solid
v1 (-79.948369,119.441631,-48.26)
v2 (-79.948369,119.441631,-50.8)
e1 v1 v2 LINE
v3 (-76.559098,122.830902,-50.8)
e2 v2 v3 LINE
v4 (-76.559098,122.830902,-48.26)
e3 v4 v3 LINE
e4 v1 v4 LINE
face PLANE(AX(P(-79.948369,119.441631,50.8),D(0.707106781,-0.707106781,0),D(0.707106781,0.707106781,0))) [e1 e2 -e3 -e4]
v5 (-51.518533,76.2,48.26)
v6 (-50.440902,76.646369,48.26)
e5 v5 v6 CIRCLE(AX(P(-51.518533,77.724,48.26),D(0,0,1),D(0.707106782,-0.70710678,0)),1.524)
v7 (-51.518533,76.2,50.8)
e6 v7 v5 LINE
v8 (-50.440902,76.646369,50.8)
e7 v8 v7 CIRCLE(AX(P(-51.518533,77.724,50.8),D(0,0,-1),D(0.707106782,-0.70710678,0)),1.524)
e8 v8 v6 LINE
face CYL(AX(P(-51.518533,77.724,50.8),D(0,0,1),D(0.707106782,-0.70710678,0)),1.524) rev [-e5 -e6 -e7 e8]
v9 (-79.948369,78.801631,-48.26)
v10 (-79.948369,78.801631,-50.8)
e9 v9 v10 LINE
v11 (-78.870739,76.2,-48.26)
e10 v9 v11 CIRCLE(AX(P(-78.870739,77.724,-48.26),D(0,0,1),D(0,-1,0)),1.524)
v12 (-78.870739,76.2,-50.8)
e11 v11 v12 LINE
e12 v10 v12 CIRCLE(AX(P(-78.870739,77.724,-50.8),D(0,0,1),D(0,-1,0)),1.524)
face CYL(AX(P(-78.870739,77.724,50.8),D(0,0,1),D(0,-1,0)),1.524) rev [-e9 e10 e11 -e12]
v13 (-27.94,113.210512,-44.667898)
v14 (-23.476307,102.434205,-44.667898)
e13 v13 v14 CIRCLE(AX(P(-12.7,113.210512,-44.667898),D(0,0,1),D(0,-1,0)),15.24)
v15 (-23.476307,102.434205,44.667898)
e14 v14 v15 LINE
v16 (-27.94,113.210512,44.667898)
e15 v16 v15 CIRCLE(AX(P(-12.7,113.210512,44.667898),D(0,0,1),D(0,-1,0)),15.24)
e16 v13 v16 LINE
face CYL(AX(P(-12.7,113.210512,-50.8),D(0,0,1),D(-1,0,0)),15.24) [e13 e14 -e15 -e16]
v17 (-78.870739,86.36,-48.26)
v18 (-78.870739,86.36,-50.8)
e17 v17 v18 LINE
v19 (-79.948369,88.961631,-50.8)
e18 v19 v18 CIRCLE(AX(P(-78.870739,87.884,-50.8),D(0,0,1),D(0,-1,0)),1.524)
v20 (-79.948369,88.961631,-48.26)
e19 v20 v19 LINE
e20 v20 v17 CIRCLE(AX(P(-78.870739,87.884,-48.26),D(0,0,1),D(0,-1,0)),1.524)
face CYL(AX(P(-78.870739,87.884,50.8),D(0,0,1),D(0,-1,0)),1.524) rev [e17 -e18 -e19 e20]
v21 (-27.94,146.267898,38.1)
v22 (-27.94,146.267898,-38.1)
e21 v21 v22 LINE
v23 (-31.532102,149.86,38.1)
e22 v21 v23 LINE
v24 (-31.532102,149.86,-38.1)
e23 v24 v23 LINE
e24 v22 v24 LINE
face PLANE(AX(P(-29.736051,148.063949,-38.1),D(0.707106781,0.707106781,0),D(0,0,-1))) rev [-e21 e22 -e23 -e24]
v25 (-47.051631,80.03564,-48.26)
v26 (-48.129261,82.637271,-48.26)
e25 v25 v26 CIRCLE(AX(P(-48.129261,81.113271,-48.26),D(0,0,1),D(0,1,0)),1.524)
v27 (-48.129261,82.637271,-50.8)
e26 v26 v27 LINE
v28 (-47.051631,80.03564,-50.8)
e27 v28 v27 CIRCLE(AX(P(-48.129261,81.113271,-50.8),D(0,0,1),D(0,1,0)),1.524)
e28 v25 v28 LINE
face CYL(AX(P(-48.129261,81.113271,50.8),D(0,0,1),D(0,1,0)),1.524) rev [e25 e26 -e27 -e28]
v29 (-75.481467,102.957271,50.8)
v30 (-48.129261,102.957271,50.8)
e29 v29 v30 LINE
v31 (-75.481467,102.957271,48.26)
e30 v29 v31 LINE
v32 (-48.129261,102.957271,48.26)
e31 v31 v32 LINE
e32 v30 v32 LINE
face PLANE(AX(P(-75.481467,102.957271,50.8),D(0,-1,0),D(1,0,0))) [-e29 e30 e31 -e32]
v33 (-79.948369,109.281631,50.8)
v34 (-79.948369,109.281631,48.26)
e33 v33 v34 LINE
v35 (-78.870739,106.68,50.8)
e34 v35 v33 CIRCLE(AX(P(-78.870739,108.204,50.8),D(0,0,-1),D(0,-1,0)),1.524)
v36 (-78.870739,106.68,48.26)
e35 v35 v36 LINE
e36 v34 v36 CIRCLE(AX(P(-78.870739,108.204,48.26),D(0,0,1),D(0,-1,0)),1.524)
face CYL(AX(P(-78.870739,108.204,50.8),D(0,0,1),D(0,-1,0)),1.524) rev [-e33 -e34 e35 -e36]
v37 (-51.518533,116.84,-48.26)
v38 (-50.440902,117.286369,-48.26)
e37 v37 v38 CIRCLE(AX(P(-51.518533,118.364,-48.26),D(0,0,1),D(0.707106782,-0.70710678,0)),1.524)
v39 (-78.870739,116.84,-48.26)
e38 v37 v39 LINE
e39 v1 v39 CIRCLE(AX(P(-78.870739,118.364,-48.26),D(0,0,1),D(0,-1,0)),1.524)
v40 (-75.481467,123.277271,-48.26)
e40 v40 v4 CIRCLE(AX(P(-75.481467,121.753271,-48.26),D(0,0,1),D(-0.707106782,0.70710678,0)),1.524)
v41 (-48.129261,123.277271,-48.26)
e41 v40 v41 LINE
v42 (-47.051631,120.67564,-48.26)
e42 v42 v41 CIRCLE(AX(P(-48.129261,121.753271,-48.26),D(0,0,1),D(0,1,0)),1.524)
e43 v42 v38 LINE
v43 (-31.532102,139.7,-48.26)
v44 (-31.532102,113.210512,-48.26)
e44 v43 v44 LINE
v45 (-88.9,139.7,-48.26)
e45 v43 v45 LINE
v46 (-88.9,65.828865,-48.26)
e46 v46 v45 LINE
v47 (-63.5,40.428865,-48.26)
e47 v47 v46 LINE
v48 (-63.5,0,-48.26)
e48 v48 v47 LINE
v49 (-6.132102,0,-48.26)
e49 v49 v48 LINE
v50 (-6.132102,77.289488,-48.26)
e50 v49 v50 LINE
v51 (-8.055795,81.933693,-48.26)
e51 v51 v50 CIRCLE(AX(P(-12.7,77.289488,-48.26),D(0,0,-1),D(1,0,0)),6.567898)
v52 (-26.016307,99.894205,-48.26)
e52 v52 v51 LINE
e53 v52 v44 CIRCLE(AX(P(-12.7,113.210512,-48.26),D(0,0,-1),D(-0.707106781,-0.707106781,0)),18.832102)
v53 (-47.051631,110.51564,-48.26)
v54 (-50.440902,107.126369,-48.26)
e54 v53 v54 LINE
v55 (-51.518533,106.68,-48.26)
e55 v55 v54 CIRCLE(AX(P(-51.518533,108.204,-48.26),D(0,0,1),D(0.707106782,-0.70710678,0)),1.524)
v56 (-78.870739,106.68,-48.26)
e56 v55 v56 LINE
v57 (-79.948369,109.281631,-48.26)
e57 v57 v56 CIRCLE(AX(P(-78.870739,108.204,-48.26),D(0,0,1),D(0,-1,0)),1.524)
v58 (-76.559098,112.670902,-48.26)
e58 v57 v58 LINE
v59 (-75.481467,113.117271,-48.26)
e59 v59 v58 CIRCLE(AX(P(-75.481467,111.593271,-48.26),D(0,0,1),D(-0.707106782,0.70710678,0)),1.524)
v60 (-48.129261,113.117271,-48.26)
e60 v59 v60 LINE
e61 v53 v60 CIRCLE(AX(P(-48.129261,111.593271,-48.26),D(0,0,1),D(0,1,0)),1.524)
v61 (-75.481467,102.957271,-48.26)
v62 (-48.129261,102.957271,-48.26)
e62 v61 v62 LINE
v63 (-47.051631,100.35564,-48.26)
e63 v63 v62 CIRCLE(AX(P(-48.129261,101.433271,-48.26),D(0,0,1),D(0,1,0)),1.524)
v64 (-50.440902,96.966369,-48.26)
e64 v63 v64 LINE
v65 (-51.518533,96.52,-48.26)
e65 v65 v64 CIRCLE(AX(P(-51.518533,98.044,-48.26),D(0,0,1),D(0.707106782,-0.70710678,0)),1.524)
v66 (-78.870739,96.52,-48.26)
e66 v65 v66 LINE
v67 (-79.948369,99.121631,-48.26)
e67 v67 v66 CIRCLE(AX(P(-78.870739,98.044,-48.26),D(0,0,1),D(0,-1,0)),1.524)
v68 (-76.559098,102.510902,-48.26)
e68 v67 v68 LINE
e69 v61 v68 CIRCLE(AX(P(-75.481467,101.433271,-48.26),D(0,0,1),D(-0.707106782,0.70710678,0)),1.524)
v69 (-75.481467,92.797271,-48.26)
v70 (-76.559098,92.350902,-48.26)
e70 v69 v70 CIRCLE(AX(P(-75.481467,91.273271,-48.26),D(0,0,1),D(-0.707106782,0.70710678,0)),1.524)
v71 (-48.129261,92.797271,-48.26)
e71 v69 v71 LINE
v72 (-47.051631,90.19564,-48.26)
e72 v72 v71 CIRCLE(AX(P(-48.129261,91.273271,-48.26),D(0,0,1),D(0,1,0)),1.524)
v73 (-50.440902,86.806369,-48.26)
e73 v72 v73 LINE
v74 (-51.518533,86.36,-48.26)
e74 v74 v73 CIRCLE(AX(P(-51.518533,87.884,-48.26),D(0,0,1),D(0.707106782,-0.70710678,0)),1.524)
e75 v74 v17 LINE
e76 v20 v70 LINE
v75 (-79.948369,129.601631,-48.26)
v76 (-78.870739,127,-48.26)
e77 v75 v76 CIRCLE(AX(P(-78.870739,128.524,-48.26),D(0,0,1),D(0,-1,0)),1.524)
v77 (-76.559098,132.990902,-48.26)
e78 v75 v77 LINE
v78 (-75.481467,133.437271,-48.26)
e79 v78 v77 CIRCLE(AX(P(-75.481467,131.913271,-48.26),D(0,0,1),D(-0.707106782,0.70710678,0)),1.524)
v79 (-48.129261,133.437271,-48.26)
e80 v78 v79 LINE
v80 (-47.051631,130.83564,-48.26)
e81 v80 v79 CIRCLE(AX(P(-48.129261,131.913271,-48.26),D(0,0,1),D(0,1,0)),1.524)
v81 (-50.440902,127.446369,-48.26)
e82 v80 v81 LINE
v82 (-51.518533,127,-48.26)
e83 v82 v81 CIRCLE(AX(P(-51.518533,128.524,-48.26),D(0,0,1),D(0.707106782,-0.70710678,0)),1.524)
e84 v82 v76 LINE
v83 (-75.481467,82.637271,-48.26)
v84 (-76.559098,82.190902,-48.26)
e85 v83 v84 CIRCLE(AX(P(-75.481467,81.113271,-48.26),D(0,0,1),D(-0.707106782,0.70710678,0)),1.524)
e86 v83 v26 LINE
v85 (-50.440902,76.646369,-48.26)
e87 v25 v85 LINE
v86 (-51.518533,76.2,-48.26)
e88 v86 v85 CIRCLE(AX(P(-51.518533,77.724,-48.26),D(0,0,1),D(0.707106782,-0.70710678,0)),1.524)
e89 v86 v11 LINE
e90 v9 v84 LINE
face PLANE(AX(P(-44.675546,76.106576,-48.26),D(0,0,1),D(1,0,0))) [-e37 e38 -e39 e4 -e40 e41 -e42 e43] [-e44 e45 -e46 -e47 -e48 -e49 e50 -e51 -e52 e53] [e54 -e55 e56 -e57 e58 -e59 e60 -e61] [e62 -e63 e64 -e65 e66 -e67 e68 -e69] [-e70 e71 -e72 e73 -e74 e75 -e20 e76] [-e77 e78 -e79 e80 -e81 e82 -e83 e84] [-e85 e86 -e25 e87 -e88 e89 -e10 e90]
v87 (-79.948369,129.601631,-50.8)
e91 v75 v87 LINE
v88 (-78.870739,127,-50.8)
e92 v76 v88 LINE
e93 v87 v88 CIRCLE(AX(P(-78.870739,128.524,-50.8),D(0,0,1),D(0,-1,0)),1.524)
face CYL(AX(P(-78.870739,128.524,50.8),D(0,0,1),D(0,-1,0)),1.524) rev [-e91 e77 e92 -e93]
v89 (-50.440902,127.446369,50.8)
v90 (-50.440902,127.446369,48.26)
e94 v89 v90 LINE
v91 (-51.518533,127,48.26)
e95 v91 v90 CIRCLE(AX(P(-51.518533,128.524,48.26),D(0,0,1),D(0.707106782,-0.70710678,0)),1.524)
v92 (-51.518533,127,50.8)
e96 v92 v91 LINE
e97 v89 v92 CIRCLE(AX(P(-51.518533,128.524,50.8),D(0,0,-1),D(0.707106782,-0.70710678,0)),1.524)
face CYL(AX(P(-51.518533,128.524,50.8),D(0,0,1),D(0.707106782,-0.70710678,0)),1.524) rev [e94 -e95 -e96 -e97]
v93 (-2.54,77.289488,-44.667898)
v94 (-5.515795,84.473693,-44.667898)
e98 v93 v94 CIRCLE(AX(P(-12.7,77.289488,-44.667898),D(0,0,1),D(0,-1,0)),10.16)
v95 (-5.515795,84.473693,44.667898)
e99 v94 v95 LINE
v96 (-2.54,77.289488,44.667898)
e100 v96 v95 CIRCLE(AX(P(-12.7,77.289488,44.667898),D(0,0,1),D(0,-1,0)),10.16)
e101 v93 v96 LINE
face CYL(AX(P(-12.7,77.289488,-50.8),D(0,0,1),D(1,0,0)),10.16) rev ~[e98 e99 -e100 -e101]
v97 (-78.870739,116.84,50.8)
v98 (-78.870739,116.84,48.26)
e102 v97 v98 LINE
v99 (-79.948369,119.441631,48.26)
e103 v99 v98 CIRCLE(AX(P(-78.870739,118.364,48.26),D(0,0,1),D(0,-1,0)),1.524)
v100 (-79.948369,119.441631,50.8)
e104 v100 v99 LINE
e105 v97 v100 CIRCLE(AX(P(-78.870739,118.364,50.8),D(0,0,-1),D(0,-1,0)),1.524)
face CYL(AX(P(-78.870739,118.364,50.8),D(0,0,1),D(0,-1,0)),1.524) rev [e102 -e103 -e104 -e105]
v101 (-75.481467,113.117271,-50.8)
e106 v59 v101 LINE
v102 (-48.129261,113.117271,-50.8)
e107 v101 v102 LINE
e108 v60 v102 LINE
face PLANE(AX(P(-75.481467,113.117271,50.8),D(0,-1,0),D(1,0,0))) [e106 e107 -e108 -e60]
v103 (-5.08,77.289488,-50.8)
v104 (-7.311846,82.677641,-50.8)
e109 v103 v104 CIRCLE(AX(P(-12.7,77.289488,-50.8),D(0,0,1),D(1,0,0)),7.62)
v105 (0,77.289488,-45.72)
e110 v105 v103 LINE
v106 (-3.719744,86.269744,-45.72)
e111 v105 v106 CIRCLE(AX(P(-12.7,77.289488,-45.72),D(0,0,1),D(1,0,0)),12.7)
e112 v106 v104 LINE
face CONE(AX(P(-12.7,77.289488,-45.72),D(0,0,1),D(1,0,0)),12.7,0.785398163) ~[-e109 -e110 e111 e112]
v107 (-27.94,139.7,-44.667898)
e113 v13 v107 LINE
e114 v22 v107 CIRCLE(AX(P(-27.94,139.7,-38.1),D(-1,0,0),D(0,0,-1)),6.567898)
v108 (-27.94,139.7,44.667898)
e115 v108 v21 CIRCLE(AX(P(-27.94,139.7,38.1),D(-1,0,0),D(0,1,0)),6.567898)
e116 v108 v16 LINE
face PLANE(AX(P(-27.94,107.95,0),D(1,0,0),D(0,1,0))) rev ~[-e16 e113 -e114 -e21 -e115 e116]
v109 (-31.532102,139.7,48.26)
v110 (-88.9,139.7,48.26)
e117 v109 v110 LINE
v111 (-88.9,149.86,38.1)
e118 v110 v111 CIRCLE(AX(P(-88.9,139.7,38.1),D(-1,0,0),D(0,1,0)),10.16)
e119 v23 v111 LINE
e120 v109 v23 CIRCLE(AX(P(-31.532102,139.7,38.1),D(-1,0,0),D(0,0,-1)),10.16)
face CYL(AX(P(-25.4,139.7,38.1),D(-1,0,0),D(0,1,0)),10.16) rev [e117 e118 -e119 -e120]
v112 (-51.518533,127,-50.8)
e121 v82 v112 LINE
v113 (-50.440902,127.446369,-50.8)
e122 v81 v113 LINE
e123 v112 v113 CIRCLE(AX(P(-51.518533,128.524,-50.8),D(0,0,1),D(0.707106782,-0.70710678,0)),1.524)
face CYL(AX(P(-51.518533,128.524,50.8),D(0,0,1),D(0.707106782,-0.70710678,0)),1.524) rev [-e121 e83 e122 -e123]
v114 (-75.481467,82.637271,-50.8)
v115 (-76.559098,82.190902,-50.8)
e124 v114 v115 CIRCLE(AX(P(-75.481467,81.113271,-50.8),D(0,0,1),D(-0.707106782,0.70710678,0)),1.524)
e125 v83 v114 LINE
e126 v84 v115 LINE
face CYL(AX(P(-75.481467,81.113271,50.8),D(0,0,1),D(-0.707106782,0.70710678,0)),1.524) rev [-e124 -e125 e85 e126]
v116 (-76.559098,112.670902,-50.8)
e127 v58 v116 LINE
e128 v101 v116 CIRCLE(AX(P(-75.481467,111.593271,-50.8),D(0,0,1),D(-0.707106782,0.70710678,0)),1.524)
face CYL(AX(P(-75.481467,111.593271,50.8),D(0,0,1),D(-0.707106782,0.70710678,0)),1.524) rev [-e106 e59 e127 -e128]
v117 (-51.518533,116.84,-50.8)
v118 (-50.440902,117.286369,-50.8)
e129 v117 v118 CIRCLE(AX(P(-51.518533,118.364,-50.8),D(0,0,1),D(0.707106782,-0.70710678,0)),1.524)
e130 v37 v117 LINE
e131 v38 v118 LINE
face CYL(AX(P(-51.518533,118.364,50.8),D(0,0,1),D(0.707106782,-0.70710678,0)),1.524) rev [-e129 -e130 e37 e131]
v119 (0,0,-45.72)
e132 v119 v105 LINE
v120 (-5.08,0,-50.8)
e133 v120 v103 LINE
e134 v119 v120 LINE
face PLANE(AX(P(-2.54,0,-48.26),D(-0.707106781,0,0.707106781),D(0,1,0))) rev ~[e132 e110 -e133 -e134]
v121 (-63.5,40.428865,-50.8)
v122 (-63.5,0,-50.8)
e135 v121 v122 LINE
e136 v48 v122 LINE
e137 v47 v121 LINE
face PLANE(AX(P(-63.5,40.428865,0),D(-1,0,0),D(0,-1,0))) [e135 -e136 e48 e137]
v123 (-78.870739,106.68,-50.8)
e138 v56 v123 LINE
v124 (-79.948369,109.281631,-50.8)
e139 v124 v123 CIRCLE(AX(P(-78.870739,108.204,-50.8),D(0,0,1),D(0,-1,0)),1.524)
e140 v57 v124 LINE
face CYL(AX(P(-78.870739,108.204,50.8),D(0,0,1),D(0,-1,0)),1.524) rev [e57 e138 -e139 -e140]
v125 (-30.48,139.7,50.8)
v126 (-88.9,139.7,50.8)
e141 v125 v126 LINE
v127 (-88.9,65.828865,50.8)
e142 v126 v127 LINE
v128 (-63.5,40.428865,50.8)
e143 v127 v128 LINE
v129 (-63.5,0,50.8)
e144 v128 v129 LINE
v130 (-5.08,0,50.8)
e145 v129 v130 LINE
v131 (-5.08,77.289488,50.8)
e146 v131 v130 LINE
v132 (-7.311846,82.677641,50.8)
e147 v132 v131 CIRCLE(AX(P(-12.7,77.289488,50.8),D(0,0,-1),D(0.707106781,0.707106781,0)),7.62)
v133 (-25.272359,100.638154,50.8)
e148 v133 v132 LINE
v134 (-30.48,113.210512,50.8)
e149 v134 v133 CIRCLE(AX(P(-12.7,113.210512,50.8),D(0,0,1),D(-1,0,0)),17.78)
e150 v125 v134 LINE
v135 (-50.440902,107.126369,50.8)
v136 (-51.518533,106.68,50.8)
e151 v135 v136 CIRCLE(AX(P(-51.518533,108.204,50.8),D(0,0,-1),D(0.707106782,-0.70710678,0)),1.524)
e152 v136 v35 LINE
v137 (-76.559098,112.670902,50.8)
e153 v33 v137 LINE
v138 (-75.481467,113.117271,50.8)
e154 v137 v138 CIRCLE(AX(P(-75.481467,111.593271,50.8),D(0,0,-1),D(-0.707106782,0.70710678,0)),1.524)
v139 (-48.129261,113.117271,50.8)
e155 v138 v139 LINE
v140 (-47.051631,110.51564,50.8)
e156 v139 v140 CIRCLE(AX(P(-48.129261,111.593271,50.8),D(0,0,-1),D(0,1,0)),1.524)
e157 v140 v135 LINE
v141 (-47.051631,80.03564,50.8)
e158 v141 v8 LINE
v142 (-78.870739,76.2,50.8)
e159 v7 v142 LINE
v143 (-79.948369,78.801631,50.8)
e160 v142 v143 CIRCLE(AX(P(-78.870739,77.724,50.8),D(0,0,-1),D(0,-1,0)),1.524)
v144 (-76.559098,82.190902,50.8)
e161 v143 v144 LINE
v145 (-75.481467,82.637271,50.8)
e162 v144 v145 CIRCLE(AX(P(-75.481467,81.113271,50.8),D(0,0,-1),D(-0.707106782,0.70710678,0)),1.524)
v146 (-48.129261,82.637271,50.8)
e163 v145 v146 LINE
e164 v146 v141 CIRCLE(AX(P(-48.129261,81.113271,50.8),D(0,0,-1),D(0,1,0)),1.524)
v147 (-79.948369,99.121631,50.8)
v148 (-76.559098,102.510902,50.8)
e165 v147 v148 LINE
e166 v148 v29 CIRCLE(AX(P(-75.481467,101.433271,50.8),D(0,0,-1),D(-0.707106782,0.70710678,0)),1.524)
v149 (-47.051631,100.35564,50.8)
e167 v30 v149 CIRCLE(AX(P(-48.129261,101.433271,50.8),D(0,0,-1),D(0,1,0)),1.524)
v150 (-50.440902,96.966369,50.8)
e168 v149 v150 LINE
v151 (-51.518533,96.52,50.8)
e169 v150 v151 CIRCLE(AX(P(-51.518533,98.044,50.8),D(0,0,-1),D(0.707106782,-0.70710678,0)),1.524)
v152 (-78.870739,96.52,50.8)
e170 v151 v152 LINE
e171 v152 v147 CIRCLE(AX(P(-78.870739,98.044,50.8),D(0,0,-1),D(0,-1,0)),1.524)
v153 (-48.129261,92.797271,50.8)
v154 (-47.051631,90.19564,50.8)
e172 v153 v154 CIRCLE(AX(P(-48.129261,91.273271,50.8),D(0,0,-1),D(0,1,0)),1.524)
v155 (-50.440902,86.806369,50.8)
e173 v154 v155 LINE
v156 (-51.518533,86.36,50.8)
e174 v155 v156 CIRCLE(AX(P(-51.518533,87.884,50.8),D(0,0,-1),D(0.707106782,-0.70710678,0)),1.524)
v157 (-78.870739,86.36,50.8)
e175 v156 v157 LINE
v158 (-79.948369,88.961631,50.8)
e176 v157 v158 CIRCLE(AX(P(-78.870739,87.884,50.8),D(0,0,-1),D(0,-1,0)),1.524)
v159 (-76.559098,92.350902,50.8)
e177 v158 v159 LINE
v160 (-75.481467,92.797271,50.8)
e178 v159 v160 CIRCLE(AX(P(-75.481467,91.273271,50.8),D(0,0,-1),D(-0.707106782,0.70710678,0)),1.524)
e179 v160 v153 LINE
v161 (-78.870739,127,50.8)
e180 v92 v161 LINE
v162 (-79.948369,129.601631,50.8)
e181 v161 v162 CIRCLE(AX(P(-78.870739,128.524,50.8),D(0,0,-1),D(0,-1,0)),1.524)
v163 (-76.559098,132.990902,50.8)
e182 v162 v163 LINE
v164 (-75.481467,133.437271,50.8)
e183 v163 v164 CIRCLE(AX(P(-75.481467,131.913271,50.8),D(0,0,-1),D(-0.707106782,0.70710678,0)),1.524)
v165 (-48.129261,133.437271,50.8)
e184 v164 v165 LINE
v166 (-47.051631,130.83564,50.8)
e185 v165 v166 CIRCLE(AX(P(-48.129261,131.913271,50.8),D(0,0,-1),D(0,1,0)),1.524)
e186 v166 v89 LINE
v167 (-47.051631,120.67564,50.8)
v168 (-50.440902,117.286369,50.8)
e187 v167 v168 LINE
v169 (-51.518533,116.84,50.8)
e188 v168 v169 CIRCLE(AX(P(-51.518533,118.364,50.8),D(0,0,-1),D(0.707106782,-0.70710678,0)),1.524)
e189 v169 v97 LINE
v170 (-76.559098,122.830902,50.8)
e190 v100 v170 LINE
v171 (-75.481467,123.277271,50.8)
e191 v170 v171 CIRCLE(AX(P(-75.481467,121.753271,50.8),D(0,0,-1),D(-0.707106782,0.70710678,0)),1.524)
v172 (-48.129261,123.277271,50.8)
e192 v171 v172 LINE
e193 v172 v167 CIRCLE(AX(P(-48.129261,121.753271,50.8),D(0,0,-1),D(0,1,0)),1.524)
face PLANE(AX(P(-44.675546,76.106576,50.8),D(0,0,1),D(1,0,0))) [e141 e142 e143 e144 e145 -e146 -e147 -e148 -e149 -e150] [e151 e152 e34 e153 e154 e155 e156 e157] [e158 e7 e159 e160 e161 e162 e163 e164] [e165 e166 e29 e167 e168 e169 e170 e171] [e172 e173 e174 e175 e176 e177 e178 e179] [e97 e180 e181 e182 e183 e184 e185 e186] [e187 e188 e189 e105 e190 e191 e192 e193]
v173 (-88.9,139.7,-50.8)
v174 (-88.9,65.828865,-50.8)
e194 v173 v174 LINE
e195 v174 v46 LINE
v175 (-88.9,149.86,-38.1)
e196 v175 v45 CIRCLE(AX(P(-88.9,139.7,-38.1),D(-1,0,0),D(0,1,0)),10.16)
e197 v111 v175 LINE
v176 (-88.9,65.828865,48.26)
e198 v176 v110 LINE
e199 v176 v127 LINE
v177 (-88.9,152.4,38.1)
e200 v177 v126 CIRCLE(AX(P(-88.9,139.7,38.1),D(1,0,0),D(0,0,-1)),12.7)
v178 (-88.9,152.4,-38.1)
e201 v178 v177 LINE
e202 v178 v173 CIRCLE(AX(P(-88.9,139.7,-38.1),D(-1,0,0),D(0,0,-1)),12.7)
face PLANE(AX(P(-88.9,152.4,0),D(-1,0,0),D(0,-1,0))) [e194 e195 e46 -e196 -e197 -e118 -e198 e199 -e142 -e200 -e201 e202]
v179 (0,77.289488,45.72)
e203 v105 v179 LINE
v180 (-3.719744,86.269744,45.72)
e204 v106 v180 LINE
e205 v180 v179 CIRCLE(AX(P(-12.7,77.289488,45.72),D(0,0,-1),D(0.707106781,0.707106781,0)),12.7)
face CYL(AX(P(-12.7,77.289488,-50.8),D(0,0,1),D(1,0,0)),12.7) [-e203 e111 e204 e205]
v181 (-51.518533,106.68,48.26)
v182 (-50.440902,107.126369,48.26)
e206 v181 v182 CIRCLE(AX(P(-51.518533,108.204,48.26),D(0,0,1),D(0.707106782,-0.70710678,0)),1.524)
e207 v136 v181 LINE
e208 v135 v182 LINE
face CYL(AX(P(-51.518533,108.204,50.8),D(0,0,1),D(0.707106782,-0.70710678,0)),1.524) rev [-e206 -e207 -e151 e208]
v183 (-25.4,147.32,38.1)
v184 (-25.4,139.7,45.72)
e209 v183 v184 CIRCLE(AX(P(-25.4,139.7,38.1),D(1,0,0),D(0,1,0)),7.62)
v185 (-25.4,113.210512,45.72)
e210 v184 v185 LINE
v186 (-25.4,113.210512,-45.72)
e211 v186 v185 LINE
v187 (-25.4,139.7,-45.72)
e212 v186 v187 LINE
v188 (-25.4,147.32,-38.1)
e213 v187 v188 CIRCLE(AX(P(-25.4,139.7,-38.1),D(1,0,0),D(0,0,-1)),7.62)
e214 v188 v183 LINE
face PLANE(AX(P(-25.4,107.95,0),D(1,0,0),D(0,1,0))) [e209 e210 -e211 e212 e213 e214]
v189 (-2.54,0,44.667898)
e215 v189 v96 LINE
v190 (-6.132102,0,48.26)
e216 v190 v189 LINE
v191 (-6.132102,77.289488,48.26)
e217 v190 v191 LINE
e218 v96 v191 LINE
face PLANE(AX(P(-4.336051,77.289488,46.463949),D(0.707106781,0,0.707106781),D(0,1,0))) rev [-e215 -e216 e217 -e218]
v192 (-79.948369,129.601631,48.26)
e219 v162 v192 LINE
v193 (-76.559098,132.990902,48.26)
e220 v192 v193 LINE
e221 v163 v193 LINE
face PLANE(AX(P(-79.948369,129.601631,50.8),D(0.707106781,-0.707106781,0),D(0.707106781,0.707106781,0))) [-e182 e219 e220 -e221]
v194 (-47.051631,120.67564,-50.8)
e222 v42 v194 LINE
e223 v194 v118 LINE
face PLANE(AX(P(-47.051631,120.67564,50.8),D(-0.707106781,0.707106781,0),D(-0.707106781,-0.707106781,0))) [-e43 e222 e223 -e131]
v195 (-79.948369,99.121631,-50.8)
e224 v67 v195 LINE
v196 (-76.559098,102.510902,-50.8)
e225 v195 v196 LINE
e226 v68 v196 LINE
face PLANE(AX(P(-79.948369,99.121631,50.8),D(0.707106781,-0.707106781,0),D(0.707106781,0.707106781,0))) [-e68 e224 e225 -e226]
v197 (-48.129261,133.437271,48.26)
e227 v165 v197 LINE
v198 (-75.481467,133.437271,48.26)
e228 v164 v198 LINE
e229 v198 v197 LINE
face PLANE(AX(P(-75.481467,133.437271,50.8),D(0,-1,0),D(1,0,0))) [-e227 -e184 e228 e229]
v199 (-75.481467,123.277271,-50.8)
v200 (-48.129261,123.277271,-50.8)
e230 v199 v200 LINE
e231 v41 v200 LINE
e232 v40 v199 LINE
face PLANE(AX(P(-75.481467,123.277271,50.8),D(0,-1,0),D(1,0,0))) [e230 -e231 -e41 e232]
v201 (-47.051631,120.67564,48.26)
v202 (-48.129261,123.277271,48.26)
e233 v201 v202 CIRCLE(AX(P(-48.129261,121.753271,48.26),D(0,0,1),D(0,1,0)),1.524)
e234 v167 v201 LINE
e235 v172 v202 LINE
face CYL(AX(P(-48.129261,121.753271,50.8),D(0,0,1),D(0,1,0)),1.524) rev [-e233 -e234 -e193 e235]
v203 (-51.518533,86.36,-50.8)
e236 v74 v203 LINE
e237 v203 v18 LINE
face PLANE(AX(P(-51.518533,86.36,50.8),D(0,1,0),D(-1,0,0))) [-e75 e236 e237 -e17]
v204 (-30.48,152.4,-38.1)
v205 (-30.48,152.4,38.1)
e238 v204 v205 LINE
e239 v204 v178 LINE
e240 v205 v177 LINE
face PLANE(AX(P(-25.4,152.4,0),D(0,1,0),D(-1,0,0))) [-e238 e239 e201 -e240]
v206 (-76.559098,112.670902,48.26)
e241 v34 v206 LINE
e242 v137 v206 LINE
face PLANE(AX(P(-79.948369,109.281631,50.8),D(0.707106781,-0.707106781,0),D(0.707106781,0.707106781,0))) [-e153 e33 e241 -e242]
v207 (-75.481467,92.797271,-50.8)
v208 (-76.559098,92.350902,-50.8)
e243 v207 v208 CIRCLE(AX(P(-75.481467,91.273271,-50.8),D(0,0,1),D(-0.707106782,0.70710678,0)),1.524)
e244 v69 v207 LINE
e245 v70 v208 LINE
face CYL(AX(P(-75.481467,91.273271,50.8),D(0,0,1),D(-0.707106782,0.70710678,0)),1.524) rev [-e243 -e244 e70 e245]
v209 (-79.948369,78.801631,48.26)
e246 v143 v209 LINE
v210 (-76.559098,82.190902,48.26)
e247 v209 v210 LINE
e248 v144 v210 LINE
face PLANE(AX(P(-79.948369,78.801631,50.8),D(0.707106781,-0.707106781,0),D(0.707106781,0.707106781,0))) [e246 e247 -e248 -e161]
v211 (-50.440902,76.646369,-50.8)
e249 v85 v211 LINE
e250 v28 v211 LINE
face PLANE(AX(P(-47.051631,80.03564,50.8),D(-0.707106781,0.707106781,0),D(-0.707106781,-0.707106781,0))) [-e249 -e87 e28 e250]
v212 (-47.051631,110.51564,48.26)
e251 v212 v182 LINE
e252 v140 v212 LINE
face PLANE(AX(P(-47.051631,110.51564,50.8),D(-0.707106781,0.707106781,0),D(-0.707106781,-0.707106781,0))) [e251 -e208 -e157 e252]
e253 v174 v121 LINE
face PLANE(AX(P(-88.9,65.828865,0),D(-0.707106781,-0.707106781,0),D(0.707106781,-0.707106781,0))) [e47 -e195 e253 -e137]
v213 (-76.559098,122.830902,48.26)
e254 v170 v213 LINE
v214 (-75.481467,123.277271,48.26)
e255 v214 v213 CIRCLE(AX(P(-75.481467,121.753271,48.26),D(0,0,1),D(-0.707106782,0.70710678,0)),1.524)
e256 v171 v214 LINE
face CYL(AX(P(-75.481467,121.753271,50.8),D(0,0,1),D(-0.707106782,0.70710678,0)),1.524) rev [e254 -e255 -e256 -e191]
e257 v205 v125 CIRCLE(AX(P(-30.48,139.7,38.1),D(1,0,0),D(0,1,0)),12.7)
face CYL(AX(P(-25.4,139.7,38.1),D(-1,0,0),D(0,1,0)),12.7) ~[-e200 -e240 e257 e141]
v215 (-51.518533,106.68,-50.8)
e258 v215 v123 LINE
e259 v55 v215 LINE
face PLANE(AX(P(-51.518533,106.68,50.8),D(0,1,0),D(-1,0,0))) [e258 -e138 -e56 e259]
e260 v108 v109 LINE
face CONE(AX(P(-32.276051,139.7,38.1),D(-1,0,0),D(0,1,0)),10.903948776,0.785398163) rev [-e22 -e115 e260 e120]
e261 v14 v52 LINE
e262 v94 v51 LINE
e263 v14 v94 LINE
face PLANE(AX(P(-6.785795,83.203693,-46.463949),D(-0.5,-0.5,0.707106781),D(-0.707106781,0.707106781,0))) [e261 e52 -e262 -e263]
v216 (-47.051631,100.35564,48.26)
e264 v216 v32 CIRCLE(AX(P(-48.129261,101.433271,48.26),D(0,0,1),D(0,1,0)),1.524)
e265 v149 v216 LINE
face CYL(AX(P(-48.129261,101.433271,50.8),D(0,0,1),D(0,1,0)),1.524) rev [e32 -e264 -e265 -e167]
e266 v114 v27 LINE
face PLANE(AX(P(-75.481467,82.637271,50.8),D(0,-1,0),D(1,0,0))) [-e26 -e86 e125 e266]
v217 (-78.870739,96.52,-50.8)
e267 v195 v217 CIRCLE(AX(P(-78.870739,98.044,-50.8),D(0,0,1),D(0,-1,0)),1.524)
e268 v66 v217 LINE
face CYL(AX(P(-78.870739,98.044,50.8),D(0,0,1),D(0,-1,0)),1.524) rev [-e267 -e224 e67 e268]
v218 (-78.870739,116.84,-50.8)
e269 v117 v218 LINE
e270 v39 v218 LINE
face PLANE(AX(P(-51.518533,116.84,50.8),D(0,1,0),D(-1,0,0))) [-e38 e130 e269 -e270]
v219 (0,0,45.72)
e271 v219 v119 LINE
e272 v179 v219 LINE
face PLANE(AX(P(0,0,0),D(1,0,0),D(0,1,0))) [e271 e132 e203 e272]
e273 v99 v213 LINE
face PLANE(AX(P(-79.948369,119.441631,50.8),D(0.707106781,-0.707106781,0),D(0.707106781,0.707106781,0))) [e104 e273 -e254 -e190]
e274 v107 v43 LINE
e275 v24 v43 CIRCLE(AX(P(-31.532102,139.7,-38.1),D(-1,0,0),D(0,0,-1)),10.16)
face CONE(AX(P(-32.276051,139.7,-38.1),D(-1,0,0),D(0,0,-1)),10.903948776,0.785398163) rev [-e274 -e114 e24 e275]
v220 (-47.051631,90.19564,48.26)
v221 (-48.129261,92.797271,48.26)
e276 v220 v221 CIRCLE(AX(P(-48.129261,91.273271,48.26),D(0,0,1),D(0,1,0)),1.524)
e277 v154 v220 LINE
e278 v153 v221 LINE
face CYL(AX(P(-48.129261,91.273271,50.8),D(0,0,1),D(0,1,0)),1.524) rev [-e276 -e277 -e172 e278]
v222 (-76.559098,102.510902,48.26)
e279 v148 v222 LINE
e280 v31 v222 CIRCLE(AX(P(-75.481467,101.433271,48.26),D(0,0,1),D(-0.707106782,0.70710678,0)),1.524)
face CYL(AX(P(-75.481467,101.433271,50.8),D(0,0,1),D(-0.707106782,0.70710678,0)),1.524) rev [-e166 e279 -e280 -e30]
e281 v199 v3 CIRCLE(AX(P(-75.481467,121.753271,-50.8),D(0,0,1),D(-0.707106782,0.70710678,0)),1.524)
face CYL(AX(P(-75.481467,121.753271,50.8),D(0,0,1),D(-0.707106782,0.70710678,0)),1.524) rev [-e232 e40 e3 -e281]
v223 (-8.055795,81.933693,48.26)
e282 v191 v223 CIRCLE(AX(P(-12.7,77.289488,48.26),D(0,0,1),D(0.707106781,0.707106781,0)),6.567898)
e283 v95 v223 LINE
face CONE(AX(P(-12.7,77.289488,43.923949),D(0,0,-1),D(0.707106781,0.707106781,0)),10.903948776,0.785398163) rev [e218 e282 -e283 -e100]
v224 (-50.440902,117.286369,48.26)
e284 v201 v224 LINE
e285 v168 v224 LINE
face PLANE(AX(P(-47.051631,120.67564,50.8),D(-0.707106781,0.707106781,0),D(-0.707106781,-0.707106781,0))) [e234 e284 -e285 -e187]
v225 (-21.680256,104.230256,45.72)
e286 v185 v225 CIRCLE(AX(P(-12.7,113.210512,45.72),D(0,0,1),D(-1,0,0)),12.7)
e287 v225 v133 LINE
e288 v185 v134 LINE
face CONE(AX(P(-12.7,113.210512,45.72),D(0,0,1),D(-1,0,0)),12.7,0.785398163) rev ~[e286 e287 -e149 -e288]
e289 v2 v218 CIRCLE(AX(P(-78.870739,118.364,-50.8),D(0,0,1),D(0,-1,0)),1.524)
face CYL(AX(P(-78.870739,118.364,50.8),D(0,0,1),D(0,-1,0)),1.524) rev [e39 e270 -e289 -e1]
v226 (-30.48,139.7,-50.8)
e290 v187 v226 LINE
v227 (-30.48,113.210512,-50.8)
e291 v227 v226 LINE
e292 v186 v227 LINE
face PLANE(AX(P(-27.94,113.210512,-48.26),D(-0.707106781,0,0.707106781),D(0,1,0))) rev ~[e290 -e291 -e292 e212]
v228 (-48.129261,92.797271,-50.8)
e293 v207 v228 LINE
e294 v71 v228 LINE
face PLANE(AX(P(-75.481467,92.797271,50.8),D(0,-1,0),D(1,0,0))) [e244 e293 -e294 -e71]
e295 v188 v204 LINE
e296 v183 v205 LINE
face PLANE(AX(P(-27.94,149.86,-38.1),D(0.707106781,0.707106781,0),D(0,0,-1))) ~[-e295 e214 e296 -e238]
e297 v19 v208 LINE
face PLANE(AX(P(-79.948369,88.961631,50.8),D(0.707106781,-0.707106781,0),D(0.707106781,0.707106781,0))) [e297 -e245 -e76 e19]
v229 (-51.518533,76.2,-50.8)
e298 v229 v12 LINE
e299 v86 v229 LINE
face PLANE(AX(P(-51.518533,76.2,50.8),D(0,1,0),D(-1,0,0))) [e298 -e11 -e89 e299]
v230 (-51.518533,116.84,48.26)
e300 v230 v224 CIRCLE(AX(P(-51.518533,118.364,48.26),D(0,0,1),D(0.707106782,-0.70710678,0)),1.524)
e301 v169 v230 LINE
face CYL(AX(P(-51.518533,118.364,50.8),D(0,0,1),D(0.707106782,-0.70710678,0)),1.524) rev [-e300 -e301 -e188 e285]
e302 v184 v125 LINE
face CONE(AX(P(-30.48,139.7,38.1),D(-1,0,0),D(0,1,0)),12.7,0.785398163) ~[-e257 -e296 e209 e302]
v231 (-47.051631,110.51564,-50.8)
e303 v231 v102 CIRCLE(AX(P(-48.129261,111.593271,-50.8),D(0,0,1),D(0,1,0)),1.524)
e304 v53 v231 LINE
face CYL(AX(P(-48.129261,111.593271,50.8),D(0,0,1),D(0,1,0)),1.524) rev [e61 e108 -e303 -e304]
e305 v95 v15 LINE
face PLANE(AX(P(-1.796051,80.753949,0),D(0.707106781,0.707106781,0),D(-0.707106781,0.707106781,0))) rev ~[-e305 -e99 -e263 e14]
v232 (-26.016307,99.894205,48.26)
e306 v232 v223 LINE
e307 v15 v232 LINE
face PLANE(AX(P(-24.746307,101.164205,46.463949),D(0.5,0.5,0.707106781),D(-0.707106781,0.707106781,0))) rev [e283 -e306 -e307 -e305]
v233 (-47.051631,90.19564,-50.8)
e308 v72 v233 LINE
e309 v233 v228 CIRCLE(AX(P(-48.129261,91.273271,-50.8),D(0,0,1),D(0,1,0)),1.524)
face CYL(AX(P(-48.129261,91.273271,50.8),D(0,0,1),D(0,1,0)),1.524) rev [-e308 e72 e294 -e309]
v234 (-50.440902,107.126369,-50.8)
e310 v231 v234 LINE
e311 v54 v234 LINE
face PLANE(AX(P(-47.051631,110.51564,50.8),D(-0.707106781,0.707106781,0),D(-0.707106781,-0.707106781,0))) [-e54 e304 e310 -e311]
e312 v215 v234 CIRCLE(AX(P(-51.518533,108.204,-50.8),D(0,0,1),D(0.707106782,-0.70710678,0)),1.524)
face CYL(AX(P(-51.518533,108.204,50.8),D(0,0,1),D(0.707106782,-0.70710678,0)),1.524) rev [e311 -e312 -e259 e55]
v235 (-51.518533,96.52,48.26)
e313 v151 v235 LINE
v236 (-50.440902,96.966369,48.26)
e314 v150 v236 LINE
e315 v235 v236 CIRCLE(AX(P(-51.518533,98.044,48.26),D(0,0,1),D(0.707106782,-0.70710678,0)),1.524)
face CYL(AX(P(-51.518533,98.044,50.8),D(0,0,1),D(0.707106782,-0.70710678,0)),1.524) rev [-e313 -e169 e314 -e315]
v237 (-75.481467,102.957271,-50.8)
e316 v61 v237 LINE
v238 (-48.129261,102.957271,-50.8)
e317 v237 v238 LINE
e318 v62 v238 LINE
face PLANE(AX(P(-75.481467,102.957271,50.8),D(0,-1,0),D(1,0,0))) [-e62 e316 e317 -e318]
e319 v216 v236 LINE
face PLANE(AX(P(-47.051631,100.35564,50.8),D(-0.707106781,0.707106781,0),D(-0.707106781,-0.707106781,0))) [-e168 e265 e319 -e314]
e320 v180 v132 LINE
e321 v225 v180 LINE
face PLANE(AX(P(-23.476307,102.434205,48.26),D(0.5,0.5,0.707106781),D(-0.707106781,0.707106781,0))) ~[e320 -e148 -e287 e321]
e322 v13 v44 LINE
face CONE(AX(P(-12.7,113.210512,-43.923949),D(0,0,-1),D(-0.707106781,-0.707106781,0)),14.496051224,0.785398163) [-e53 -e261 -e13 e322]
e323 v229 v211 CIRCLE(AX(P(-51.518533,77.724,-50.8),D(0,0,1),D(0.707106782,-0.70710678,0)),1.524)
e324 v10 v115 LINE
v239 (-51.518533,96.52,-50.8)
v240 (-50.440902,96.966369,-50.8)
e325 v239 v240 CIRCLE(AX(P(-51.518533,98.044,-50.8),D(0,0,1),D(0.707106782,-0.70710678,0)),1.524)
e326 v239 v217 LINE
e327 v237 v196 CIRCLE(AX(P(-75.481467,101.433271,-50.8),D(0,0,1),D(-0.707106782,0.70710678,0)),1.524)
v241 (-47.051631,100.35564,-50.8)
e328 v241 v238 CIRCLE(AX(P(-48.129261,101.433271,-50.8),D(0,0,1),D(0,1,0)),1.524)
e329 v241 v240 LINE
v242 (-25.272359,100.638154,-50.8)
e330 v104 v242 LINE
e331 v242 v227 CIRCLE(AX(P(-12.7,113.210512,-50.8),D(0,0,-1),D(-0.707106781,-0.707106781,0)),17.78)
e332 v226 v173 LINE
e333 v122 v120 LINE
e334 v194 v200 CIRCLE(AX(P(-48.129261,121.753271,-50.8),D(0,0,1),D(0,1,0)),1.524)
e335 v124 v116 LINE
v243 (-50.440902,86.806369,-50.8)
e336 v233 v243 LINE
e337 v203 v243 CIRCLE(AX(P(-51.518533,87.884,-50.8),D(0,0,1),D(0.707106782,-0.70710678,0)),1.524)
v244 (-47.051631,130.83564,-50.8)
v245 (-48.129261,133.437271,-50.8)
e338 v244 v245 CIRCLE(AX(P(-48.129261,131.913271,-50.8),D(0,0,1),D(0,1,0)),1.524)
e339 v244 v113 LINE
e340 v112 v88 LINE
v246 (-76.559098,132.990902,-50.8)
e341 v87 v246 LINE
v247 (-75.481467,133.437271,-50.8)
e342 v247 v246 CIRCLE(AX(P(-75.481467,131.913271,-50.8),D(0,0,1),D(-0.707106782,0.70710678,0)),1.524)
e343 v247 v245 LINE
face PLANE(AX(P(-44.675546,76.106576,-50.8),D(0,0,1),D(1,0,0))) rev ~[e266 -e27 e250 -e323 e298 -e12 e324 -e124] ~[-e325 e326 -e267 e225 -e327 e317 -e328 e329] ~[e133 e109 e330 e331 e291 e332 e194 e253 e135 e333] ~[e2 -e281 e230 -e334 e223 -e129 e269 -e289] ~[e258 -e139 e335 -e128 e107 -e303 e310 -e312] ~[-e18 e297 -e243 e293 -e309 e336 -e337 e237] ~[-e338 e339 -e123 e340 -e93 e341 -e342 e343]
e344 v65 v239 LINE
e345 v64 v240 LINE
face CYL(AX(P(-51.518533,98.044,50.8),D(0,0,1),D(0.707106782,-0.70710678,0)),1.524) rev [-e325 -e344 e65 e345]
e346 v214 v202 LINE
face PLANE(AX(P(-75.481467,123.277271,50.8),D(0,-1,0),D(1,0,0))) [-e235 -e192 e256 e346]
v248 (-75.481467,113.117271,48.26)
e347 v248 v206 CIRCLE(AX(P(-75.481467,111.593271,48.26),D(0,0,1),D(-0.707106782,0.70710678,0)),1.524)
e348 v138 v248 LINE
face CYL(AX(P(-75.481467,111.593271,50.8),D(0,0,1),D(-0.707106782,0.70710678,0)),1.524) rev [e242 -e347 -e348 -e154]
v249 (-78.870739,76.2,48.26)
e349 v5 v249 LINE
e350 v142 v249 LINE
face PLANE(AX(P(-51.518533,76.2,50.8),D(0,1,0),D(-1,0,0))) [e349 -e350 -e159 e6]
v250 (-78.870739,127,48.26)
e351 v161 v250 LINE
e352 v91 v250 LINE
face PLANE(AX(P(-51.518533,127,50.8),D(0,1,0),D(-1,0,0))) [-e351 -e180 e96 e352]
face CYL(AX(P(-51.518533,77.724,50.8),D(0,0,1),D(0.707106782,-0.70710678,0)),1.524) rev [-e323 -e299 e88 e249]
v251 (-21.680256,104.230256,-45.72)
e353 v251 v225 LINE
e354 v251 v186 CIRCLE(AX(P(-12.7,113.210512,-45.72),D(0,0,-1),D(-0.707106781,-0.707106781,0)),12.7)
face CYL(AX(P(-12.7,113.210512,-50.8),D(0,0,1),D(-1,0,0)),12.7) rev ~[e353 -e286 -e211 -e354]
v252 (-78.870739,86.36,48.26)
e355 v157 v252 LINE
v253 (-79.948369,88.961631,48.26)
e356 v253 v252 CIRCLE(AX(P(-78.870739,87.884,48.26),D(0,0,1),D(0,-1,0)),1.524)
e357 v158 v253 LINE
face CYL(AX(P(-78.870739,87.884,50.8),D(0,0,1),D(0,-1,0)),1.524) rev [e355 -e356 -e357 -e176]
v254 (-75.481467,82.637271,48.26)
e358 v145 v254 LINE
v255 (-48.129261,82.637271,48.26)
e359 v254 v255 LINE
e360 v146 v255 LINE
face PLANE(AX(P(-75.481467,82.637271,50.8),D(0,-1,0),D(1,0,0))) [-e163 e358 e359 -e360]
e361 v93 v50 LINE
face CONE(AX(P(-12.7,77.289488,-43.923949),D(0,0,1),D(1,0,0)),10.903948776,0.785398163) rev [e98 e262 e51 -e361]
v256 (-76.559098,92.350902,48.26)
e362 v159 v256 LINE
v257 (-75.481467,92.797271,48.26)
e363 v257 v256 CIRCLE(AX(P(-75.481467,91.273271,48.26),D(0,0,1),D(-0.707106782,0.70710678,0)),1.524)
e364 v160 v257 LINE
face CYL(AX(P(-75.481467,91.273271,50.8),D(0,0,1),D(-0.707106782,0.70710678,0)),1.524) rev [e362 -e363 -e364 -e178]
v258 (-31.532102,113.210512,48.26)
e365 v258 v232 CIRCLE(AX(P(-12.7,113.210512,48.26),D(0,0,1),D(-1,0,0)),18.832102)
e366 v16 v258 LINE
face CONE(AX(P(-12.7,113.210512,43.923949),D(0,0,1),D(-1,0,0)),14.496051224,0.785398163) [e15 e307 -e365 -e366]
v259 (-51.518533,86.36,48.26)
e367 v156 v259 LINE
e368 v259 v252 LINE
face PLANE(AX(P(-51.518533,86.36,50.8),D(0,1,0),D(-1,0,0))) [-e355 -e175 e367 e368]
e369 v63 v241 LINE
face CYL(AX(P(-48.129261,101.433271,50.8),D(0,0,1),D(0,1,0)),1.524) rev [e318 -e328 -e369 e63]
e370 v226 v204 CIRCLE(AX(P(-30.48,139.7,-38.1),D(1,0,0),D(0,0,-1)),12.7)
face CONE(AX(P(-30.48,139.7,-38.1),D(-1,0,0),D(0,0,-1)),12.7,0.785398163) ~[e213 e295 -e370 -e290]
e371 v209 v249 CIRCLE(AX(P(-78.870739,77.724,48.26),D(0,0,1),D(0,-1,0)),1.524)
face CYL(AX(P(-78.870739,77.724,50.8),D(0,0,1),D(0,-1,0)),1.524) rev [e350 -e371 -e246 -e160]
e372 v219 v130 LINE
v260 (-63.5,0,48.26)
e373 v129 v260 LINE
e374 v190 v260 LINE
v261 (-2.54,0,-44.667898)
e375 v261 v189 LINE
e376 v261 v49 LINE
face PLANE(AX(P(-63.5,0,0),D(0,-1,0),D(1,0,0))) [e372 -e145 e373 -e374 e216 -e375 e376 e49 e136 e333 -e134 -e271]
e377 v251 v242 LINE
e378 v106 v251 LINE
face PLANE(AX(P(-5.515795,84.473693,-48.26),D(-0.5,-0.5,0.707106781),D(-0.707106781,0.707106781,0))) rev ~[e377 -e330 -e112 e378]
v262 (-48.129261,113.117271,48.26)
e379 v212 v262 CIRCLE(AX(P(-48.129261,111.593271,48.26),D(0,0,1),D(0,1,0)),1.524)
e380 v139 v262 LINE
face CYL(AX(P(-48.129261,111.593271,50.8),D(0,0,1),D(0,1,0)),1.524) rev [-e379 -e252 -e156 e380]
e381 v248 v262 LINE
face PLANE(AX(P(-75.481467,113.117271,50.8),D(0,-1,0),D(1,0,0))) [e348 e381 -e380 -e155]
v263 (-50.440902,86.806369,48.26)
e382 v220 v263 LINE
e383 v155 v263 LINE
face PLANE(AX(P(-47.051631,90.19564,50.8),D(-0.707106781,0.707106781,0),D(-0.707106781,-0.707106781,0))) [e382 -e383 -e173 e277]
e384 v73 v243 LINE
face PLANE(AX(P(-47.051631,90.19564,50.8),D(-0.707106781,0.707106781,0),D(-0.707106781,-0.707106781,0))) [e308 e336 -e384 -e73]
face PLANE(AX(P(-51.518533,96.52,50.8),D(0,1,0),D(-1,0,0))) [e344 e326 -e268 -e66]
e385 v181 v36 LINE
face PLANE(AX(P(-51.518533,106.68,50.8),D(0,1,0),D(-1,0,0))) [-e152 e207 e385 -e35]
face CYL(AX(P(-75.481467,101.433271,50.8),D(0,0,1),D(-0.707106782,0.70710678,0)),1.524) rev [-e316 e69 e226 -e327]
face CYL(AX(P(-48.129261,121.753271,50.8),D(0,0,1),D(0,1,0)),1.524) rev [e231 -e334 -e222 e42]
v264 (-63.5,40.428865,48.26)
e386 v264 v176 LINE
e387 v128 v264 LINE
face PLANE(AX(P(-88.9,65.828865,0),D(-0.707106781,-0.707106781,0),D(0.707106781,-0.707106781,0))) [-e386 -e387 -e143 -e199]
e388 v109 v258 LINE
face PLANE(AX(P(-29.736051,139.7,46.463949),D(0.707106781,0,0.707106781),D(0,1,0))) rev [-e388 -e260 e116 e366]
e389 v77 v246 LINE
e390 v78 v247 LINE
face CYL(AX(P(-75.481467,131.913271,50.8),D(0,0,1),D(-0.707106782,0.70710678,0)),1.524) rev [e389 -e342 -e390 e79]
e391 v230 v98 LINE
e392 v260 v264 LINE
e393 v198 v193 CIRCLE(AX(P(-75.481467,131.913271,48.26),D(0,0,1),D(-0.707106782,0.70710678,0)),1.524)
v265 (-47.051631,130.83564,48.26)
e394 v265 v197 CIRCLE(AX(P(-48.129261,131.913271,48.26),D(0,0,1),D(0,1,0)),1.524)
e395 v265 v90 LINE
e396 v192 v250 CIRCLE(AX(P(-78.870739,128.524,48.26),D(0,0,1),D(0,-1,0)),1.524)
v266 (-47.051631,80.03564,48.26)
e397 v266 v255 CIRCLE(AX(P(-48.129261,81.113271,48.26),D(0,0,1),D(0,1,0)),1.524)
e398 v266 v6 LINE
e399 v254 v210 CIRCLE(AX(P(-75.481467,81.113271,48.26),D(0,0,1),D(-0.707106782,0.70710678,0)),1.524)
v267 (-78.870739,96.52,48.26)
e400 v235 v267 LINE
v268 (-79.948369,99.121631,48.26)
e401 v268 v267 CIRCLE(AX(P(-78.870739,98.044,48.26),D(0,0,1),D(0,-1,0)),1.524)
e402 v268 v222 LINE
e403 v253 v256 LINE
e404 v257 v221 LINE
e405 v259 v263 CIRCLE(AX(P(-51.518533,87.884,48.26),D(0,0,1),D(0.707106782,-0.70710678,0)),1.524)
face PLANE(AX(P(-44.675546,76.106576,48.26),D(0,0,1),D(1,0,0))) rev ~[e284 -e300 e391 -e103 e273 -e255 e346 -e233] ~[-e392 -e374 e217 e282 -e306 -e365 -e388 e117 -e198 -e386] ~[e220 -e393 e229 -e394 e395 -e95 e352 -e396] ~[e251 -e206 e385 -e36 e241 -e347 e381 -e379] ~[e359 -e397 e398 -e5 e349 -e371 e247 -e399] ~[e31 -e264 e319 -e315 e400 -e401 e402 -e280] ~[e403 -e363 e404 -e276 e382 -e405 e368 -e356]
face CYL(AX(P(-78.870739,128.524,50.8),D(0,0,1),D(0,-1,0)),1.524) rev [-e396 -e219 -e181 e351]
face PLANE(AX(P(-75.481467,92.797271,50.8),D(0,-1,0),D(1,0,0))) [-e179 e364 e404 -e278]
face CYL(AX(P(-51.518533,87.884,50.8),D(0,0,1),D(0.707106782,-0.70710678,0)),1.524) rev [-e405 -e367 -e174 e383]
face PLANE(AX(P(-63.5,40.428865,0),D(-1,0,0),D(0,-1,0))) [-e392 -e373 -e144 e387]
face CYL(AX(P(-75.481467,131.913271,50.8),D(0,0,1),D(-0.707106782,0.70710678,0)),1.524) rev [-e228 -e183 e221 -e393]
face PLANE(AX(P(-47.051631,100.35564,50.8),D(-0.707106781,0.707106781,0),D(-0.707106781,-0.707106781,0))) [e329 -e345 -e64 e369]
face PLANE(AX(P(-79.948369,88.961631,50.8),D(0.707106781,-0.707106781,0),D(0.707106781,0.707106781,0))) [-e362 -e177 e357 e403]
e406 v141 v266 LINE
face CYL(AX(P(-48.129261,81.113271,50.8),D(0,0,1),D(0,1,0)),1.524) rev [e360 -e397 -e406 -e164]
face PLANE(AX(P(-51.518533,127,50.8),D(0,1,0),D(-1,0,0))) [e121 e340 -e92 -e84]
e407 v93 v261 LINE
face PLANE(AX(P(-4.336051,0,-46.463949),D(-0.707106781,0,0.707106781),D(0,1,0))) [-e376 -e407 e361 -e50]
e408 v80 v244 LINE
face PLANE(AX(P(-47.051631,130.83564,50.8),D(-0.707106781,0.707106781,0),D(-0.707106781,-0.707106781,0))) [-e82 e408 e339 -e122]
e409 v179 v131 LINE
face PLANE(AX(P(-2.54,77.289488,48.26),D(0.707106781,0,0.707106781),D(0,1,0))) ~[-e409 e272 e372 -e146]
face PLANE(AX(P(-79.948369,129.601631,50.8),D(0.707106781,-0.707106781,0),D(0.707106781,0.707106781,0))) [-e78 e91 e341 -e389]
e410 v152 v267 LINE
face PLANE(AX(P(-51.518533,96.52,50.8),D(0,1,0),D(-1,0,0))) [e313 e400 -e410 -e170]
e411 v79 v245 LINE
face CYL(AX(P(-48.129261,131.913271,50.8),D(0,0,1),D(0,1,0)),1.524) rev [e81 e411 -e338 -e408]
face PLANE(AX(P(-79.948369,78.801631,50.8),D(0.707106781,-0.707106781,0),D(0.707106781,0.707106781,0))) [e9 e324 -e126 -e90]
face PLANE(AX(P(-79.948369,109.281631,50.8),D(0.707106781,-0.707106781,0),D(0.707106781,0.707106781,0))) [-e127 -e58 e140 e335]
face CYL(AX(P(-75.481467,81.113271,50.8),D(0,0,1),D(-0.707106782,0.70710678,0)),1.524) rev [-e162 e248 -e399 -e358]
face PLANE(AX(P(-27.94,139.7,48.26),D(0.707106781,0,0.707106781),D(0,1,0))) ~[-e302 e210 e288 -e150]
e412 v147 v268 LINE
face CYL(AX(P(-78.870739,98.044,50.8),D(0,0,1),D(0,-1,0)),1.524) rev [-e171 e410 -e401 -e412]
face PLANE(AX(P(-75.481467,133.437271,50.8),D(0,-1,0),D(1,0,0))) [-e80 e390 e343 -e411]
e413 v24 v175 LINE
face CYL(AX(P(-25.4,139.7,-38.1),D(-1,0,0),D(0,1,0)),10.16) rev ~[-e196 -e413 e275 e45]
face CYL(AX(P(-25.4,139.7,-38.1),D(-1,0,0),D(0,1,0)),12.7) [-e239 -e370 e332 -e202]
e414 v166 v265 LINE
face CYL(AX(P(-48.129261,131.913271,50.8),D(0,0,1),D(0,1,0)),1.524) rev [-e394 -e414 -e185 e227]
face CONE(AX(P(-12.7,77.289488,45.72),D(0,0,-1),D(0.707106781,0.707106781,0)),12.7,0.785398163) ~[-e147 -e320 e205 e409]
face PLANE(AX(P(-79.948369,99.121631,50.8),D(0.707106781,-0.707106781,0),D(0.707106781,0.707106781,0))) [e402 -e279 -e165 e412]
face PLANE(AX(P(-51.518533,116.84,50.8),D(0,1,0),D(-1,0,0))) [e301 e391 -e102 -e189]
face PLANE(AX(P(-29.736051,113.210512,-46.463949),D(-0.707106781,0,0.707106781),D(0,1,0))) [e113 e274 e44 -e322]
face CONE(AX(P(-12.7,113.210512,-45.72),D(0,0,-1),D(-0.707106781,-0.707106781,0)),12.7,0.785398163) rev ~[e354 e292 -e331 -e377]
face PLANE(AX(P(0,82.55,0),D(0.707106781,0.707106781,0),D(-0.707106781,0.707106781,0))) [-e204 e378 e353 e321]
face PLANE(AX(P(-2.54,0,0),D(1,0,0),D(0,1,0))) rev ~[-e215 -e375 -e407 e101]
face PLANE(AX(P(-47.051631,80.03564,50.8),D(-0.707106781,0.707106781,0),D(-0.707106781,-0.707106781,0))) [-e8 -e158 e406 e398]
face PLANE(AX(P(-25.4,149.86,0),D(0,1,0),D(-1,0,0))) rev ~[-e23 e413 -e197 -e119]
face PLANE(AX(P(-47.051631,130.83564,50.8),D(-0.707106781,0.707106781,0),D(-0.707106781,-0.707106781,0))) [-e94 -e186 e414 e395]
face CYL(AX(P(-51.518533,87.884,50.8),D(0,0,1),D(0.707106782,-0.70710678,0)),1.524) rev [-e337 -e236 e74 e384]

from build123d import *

# Parameters (mm, degrees)
BOSS_EXTRUDE1_DEPTH = 50.8
FILLET2_R           = 12.7
CHAMFER1_SIZE       = 5.08
SHELL1_T            = -2.54
CUT_EXTRUDE1_DEPTH  = 204.596488182


with BuildPart() as part:
    # Sketch1 → Boss-Extrude1 (new, symmetric)
    with BuildSketch(Plane.XY):
        Polygon((0, 0), (0, 82.55), (-25.4, 107.95), (-25.4, 152.4), (-88.9, 152.4), (-88.9, 65.828865162), (-63.5, 40.428865162), (-63.5, 0), align=None)
    extrude(amount=BOSS_EXTRUDE1_DEPTH, both=True)

    # Fillet2
    fillet2_edges = [part.edges().sort_by_distance(p)[0] for p in [
        (-25.4, 107.95, 0),
        (0, 82.55, 0),
        (-57.15, 152.4, 50.8),
        (-57.15, 152.4, -50.8),
    ]]
    fillet(fillet2_edges, radius=FILLET2_R)

    # Chamfer1
    chamfer1_edges = [part.edges().sort_by_distance(p)[0] for p in [
        (0, 38.644743879, -50.8),
        (-12.7, 95.25, -50.8),
        (-12.7, 95.25, 50.8),
        (-25.4, 126.455256121, -50.8),
        (-0.966729937, 82.149567349, -50.8),
        (-25.4, 126.455256121, 50.8),
        (-0.966729937, 82.149567349, 50.8),
        (-25.4, 152.4, 0),
        (-25.4, 148.680256121, 47.080256121),
        (-25.4, 148.680256121, -47.080256121),
        (-24.433270063, 108.350432651, -50.8),
        (-24.433270063, 108.350432651, 50.8),
        (0, 38.644743879, 50.8),
    ]]
    chamfer(chamfer1_edges, length=CHAMFER1_SIZE)

    # Shell1
    shell1_openings = [part.faces().sort_by_distance(p)[0] for p in [
        (-63.5, 20.214432581, 0),
        (-76.2, 53.128865162, 0),
        (-88.9, 108.793553587, 0),
        (-31.870709505, 0, 0),
    ]]
    offset(amount=SHELL1_T, openings=shell1_openings, kind=Kind.INTERSECTION)

    # Sketch2 → Cut-Extrude1 (cut, through all)
    with BuildSketch(Plane.XY.offset(50.8)):
        with BuildLine():
            Line((-75.481467356, 133.437271175), (-48.129261469, 133.437271175))
            ThreePointArc((-48.129261469, 133.437271175), (-46.721269062, 132.496480726), (-47.051630735, 130.835640441))
            Line((-47.051630735, 130.835640441), (-50.44090191, 127.446369265))
            ThreePointArc((-50.44090191, 127.446369265), (-50.935323093, 127.116007592), (-51.518532644, 127))
            Line((-51.518532644, 127), (-78.870738531, 127))
            ThreePointArc((-78.870738531, 127), (-80.278730938, 127.940790449), (-79.948369265, 129.601630735))
            Line((-79.948369265, 129.601630735), (-76.55909809, 132.99090191))
            ThreePointArc((-76.55909809, 132.99090191), (-76.064676907, 133.321263583), (-75.481467356, 133.437271175))
        make_face()
        with BuildLine():
            Line((-75.481467356, 123.277271175), (-48.129261469, 123.277271175))
            ThreePointArc((-48.129261469, 123.277271175), (-46.721269062, 122.336480726), (-47.051630735, 120.675640441))
            Line((-47.051630735, 120.675640441), (-50.44090191, 117.286369265))
            ThreePointArc((-50.44090191, 117.286369265), (-50.935323093, 116.956007592), (-51.518532644, 116.84))
            Line((-51.518532644, 116.84), (-78.870738531, 116.84))
            ThreePointArc((-78.870738531, 116.84), (-80.278730938, 117.780790449), (-79.948369265, 119.441630735))
            Line((-79.948369265, 119.441630735), (-76.55909809, 122.83090191))
            ThreePointArc((-76.55909809, 122.83090191), (-76.064676907, 123.161263583), (-75.481467356, 123.277271175))
        make_face()
        with BuildLine():
            Line((-75.481467356, 113.117271175), (-48.129261469, 113.117271175))
            ThreePointArc((-48.129261469, 113.117271175), (-46.721269062, 112.176480726), (-47.051630735, 110.515640441))
            Line((-47.051630735, 110.515640441), (-50.44090191, 107.126369265))
            ThreePointArc((-50.44090191, 107.126369265), (-50.935323093, 106.796007592), (-51.518532644, 106.68))
            Line((-51.518532644, 106.68), (-78.870738531, 106.68))
            ThreePointArc((-78.870738531, 106.68), (-80.278730938, 107.620790449), (-79.948369265, 109.281630735))
            Line((-79.948369265, 109.281630735), (-76.55909809, 112.67090191))
            ThreePointArc((-76.55909809, 112.67090191), (-76.064676907, 113.001263583), (-75.481467356, 113.117271175))
        make_face()
        with BuildLine():
            Line((-75.481467356, 102.957271175), (-48.129261469, 102.957271175))
            ThreePointArc((-48.129261469, 102.957271175), (-46.721269062, 102.016480726), (-47.051630735, 100.355640441))
            Line((-47.051630735, 100.355640441), (-50.44090191, 96.966369265))
            ThreePointArc((-50.44090191, 96.966369265), (-50.935323093, 96.636007592), (-51.518532644, 96.52))
            Line((-51.518532644, 96.52), (-78.870738531, 96.52))
            ThreePointArc((-78.870738531, 96.52), (-80.278730938, 97.460790449), (-79.948369265, 99.121630735))
            Line((-79.948369265, 99.121630735), (-76.55909809, 102.51090191))
            ThreePointArc((-76.55909809, 102.51090191), (-76.064676907, 102.841263583), (-75.481467356, 102.957271175))
        make_face()
        with BuildLine():
            Line((-75.481467356, 92.797271175), (-48.129261469, 92.797271175))
            ThreePointArc((-48.129261469, 92.797271175), (-46.721269062, 91.856480726), (-47.051630735, 90.195640441))
            Line((-47.051630735, 90.195640441), (-50.44090191, 86.806369265))
            ThreePointArc((-50.44090191, 86.806369265), (-50.935323093, 86.476007592), (-51.518532644, 86.36))
            Line((-51.518532644, 86.36), (-78.870738531, 86.36))
            ThreePointArc((-78.870738531, 86.36), (-80.278730938, 87.300790449), (-79.948369265, 88.961630735))
            Line((-79.948369265, 88.961630735), (-76.55909809, 92.35090191))
            ThreePointArc((-76.55909809, 92.35090191), (-76.064676907, 92.681263583), (-75.481467356, 92.797271175))
        make_face()
        with BuildLine():
            Line((-75.481467356, 82.637271175), (-48.129261469, 82.637271175))
            ThreePointArc((-48.129261469, 82.637271175), (-46.721269062, 81.696480726), (-47.051630735, 80.035640441))
            Line((-47.051630735, 80.035640441), (-50.44090191, 76.646369265))
            ThreePointArc((-50.44090191, 76.646369265), (-50.935323093, 76.316007592), (-51.518532644, 76.2))
            Line((-51.518532644, 76.2), (-78.870738531, 76.2))
            ThreePointArc((-78.870738531, 76.2), (-80.278730938, 77.140790449), (-79.948369265, 78.801630735))
            Line((-79.948369265, 78.801630735), (-76.55909809, 82.19090191))
            ThreePointArc((-76.55909809, 82.19090191), (-76.064676907, 82.521263583), (-75.481467356, 82.637271175))
        make_face()
    extrude(amount=-CUT_EXTRUDE1_DEPTH, mode=Mode.SUBTRACT)


solid = part.part
